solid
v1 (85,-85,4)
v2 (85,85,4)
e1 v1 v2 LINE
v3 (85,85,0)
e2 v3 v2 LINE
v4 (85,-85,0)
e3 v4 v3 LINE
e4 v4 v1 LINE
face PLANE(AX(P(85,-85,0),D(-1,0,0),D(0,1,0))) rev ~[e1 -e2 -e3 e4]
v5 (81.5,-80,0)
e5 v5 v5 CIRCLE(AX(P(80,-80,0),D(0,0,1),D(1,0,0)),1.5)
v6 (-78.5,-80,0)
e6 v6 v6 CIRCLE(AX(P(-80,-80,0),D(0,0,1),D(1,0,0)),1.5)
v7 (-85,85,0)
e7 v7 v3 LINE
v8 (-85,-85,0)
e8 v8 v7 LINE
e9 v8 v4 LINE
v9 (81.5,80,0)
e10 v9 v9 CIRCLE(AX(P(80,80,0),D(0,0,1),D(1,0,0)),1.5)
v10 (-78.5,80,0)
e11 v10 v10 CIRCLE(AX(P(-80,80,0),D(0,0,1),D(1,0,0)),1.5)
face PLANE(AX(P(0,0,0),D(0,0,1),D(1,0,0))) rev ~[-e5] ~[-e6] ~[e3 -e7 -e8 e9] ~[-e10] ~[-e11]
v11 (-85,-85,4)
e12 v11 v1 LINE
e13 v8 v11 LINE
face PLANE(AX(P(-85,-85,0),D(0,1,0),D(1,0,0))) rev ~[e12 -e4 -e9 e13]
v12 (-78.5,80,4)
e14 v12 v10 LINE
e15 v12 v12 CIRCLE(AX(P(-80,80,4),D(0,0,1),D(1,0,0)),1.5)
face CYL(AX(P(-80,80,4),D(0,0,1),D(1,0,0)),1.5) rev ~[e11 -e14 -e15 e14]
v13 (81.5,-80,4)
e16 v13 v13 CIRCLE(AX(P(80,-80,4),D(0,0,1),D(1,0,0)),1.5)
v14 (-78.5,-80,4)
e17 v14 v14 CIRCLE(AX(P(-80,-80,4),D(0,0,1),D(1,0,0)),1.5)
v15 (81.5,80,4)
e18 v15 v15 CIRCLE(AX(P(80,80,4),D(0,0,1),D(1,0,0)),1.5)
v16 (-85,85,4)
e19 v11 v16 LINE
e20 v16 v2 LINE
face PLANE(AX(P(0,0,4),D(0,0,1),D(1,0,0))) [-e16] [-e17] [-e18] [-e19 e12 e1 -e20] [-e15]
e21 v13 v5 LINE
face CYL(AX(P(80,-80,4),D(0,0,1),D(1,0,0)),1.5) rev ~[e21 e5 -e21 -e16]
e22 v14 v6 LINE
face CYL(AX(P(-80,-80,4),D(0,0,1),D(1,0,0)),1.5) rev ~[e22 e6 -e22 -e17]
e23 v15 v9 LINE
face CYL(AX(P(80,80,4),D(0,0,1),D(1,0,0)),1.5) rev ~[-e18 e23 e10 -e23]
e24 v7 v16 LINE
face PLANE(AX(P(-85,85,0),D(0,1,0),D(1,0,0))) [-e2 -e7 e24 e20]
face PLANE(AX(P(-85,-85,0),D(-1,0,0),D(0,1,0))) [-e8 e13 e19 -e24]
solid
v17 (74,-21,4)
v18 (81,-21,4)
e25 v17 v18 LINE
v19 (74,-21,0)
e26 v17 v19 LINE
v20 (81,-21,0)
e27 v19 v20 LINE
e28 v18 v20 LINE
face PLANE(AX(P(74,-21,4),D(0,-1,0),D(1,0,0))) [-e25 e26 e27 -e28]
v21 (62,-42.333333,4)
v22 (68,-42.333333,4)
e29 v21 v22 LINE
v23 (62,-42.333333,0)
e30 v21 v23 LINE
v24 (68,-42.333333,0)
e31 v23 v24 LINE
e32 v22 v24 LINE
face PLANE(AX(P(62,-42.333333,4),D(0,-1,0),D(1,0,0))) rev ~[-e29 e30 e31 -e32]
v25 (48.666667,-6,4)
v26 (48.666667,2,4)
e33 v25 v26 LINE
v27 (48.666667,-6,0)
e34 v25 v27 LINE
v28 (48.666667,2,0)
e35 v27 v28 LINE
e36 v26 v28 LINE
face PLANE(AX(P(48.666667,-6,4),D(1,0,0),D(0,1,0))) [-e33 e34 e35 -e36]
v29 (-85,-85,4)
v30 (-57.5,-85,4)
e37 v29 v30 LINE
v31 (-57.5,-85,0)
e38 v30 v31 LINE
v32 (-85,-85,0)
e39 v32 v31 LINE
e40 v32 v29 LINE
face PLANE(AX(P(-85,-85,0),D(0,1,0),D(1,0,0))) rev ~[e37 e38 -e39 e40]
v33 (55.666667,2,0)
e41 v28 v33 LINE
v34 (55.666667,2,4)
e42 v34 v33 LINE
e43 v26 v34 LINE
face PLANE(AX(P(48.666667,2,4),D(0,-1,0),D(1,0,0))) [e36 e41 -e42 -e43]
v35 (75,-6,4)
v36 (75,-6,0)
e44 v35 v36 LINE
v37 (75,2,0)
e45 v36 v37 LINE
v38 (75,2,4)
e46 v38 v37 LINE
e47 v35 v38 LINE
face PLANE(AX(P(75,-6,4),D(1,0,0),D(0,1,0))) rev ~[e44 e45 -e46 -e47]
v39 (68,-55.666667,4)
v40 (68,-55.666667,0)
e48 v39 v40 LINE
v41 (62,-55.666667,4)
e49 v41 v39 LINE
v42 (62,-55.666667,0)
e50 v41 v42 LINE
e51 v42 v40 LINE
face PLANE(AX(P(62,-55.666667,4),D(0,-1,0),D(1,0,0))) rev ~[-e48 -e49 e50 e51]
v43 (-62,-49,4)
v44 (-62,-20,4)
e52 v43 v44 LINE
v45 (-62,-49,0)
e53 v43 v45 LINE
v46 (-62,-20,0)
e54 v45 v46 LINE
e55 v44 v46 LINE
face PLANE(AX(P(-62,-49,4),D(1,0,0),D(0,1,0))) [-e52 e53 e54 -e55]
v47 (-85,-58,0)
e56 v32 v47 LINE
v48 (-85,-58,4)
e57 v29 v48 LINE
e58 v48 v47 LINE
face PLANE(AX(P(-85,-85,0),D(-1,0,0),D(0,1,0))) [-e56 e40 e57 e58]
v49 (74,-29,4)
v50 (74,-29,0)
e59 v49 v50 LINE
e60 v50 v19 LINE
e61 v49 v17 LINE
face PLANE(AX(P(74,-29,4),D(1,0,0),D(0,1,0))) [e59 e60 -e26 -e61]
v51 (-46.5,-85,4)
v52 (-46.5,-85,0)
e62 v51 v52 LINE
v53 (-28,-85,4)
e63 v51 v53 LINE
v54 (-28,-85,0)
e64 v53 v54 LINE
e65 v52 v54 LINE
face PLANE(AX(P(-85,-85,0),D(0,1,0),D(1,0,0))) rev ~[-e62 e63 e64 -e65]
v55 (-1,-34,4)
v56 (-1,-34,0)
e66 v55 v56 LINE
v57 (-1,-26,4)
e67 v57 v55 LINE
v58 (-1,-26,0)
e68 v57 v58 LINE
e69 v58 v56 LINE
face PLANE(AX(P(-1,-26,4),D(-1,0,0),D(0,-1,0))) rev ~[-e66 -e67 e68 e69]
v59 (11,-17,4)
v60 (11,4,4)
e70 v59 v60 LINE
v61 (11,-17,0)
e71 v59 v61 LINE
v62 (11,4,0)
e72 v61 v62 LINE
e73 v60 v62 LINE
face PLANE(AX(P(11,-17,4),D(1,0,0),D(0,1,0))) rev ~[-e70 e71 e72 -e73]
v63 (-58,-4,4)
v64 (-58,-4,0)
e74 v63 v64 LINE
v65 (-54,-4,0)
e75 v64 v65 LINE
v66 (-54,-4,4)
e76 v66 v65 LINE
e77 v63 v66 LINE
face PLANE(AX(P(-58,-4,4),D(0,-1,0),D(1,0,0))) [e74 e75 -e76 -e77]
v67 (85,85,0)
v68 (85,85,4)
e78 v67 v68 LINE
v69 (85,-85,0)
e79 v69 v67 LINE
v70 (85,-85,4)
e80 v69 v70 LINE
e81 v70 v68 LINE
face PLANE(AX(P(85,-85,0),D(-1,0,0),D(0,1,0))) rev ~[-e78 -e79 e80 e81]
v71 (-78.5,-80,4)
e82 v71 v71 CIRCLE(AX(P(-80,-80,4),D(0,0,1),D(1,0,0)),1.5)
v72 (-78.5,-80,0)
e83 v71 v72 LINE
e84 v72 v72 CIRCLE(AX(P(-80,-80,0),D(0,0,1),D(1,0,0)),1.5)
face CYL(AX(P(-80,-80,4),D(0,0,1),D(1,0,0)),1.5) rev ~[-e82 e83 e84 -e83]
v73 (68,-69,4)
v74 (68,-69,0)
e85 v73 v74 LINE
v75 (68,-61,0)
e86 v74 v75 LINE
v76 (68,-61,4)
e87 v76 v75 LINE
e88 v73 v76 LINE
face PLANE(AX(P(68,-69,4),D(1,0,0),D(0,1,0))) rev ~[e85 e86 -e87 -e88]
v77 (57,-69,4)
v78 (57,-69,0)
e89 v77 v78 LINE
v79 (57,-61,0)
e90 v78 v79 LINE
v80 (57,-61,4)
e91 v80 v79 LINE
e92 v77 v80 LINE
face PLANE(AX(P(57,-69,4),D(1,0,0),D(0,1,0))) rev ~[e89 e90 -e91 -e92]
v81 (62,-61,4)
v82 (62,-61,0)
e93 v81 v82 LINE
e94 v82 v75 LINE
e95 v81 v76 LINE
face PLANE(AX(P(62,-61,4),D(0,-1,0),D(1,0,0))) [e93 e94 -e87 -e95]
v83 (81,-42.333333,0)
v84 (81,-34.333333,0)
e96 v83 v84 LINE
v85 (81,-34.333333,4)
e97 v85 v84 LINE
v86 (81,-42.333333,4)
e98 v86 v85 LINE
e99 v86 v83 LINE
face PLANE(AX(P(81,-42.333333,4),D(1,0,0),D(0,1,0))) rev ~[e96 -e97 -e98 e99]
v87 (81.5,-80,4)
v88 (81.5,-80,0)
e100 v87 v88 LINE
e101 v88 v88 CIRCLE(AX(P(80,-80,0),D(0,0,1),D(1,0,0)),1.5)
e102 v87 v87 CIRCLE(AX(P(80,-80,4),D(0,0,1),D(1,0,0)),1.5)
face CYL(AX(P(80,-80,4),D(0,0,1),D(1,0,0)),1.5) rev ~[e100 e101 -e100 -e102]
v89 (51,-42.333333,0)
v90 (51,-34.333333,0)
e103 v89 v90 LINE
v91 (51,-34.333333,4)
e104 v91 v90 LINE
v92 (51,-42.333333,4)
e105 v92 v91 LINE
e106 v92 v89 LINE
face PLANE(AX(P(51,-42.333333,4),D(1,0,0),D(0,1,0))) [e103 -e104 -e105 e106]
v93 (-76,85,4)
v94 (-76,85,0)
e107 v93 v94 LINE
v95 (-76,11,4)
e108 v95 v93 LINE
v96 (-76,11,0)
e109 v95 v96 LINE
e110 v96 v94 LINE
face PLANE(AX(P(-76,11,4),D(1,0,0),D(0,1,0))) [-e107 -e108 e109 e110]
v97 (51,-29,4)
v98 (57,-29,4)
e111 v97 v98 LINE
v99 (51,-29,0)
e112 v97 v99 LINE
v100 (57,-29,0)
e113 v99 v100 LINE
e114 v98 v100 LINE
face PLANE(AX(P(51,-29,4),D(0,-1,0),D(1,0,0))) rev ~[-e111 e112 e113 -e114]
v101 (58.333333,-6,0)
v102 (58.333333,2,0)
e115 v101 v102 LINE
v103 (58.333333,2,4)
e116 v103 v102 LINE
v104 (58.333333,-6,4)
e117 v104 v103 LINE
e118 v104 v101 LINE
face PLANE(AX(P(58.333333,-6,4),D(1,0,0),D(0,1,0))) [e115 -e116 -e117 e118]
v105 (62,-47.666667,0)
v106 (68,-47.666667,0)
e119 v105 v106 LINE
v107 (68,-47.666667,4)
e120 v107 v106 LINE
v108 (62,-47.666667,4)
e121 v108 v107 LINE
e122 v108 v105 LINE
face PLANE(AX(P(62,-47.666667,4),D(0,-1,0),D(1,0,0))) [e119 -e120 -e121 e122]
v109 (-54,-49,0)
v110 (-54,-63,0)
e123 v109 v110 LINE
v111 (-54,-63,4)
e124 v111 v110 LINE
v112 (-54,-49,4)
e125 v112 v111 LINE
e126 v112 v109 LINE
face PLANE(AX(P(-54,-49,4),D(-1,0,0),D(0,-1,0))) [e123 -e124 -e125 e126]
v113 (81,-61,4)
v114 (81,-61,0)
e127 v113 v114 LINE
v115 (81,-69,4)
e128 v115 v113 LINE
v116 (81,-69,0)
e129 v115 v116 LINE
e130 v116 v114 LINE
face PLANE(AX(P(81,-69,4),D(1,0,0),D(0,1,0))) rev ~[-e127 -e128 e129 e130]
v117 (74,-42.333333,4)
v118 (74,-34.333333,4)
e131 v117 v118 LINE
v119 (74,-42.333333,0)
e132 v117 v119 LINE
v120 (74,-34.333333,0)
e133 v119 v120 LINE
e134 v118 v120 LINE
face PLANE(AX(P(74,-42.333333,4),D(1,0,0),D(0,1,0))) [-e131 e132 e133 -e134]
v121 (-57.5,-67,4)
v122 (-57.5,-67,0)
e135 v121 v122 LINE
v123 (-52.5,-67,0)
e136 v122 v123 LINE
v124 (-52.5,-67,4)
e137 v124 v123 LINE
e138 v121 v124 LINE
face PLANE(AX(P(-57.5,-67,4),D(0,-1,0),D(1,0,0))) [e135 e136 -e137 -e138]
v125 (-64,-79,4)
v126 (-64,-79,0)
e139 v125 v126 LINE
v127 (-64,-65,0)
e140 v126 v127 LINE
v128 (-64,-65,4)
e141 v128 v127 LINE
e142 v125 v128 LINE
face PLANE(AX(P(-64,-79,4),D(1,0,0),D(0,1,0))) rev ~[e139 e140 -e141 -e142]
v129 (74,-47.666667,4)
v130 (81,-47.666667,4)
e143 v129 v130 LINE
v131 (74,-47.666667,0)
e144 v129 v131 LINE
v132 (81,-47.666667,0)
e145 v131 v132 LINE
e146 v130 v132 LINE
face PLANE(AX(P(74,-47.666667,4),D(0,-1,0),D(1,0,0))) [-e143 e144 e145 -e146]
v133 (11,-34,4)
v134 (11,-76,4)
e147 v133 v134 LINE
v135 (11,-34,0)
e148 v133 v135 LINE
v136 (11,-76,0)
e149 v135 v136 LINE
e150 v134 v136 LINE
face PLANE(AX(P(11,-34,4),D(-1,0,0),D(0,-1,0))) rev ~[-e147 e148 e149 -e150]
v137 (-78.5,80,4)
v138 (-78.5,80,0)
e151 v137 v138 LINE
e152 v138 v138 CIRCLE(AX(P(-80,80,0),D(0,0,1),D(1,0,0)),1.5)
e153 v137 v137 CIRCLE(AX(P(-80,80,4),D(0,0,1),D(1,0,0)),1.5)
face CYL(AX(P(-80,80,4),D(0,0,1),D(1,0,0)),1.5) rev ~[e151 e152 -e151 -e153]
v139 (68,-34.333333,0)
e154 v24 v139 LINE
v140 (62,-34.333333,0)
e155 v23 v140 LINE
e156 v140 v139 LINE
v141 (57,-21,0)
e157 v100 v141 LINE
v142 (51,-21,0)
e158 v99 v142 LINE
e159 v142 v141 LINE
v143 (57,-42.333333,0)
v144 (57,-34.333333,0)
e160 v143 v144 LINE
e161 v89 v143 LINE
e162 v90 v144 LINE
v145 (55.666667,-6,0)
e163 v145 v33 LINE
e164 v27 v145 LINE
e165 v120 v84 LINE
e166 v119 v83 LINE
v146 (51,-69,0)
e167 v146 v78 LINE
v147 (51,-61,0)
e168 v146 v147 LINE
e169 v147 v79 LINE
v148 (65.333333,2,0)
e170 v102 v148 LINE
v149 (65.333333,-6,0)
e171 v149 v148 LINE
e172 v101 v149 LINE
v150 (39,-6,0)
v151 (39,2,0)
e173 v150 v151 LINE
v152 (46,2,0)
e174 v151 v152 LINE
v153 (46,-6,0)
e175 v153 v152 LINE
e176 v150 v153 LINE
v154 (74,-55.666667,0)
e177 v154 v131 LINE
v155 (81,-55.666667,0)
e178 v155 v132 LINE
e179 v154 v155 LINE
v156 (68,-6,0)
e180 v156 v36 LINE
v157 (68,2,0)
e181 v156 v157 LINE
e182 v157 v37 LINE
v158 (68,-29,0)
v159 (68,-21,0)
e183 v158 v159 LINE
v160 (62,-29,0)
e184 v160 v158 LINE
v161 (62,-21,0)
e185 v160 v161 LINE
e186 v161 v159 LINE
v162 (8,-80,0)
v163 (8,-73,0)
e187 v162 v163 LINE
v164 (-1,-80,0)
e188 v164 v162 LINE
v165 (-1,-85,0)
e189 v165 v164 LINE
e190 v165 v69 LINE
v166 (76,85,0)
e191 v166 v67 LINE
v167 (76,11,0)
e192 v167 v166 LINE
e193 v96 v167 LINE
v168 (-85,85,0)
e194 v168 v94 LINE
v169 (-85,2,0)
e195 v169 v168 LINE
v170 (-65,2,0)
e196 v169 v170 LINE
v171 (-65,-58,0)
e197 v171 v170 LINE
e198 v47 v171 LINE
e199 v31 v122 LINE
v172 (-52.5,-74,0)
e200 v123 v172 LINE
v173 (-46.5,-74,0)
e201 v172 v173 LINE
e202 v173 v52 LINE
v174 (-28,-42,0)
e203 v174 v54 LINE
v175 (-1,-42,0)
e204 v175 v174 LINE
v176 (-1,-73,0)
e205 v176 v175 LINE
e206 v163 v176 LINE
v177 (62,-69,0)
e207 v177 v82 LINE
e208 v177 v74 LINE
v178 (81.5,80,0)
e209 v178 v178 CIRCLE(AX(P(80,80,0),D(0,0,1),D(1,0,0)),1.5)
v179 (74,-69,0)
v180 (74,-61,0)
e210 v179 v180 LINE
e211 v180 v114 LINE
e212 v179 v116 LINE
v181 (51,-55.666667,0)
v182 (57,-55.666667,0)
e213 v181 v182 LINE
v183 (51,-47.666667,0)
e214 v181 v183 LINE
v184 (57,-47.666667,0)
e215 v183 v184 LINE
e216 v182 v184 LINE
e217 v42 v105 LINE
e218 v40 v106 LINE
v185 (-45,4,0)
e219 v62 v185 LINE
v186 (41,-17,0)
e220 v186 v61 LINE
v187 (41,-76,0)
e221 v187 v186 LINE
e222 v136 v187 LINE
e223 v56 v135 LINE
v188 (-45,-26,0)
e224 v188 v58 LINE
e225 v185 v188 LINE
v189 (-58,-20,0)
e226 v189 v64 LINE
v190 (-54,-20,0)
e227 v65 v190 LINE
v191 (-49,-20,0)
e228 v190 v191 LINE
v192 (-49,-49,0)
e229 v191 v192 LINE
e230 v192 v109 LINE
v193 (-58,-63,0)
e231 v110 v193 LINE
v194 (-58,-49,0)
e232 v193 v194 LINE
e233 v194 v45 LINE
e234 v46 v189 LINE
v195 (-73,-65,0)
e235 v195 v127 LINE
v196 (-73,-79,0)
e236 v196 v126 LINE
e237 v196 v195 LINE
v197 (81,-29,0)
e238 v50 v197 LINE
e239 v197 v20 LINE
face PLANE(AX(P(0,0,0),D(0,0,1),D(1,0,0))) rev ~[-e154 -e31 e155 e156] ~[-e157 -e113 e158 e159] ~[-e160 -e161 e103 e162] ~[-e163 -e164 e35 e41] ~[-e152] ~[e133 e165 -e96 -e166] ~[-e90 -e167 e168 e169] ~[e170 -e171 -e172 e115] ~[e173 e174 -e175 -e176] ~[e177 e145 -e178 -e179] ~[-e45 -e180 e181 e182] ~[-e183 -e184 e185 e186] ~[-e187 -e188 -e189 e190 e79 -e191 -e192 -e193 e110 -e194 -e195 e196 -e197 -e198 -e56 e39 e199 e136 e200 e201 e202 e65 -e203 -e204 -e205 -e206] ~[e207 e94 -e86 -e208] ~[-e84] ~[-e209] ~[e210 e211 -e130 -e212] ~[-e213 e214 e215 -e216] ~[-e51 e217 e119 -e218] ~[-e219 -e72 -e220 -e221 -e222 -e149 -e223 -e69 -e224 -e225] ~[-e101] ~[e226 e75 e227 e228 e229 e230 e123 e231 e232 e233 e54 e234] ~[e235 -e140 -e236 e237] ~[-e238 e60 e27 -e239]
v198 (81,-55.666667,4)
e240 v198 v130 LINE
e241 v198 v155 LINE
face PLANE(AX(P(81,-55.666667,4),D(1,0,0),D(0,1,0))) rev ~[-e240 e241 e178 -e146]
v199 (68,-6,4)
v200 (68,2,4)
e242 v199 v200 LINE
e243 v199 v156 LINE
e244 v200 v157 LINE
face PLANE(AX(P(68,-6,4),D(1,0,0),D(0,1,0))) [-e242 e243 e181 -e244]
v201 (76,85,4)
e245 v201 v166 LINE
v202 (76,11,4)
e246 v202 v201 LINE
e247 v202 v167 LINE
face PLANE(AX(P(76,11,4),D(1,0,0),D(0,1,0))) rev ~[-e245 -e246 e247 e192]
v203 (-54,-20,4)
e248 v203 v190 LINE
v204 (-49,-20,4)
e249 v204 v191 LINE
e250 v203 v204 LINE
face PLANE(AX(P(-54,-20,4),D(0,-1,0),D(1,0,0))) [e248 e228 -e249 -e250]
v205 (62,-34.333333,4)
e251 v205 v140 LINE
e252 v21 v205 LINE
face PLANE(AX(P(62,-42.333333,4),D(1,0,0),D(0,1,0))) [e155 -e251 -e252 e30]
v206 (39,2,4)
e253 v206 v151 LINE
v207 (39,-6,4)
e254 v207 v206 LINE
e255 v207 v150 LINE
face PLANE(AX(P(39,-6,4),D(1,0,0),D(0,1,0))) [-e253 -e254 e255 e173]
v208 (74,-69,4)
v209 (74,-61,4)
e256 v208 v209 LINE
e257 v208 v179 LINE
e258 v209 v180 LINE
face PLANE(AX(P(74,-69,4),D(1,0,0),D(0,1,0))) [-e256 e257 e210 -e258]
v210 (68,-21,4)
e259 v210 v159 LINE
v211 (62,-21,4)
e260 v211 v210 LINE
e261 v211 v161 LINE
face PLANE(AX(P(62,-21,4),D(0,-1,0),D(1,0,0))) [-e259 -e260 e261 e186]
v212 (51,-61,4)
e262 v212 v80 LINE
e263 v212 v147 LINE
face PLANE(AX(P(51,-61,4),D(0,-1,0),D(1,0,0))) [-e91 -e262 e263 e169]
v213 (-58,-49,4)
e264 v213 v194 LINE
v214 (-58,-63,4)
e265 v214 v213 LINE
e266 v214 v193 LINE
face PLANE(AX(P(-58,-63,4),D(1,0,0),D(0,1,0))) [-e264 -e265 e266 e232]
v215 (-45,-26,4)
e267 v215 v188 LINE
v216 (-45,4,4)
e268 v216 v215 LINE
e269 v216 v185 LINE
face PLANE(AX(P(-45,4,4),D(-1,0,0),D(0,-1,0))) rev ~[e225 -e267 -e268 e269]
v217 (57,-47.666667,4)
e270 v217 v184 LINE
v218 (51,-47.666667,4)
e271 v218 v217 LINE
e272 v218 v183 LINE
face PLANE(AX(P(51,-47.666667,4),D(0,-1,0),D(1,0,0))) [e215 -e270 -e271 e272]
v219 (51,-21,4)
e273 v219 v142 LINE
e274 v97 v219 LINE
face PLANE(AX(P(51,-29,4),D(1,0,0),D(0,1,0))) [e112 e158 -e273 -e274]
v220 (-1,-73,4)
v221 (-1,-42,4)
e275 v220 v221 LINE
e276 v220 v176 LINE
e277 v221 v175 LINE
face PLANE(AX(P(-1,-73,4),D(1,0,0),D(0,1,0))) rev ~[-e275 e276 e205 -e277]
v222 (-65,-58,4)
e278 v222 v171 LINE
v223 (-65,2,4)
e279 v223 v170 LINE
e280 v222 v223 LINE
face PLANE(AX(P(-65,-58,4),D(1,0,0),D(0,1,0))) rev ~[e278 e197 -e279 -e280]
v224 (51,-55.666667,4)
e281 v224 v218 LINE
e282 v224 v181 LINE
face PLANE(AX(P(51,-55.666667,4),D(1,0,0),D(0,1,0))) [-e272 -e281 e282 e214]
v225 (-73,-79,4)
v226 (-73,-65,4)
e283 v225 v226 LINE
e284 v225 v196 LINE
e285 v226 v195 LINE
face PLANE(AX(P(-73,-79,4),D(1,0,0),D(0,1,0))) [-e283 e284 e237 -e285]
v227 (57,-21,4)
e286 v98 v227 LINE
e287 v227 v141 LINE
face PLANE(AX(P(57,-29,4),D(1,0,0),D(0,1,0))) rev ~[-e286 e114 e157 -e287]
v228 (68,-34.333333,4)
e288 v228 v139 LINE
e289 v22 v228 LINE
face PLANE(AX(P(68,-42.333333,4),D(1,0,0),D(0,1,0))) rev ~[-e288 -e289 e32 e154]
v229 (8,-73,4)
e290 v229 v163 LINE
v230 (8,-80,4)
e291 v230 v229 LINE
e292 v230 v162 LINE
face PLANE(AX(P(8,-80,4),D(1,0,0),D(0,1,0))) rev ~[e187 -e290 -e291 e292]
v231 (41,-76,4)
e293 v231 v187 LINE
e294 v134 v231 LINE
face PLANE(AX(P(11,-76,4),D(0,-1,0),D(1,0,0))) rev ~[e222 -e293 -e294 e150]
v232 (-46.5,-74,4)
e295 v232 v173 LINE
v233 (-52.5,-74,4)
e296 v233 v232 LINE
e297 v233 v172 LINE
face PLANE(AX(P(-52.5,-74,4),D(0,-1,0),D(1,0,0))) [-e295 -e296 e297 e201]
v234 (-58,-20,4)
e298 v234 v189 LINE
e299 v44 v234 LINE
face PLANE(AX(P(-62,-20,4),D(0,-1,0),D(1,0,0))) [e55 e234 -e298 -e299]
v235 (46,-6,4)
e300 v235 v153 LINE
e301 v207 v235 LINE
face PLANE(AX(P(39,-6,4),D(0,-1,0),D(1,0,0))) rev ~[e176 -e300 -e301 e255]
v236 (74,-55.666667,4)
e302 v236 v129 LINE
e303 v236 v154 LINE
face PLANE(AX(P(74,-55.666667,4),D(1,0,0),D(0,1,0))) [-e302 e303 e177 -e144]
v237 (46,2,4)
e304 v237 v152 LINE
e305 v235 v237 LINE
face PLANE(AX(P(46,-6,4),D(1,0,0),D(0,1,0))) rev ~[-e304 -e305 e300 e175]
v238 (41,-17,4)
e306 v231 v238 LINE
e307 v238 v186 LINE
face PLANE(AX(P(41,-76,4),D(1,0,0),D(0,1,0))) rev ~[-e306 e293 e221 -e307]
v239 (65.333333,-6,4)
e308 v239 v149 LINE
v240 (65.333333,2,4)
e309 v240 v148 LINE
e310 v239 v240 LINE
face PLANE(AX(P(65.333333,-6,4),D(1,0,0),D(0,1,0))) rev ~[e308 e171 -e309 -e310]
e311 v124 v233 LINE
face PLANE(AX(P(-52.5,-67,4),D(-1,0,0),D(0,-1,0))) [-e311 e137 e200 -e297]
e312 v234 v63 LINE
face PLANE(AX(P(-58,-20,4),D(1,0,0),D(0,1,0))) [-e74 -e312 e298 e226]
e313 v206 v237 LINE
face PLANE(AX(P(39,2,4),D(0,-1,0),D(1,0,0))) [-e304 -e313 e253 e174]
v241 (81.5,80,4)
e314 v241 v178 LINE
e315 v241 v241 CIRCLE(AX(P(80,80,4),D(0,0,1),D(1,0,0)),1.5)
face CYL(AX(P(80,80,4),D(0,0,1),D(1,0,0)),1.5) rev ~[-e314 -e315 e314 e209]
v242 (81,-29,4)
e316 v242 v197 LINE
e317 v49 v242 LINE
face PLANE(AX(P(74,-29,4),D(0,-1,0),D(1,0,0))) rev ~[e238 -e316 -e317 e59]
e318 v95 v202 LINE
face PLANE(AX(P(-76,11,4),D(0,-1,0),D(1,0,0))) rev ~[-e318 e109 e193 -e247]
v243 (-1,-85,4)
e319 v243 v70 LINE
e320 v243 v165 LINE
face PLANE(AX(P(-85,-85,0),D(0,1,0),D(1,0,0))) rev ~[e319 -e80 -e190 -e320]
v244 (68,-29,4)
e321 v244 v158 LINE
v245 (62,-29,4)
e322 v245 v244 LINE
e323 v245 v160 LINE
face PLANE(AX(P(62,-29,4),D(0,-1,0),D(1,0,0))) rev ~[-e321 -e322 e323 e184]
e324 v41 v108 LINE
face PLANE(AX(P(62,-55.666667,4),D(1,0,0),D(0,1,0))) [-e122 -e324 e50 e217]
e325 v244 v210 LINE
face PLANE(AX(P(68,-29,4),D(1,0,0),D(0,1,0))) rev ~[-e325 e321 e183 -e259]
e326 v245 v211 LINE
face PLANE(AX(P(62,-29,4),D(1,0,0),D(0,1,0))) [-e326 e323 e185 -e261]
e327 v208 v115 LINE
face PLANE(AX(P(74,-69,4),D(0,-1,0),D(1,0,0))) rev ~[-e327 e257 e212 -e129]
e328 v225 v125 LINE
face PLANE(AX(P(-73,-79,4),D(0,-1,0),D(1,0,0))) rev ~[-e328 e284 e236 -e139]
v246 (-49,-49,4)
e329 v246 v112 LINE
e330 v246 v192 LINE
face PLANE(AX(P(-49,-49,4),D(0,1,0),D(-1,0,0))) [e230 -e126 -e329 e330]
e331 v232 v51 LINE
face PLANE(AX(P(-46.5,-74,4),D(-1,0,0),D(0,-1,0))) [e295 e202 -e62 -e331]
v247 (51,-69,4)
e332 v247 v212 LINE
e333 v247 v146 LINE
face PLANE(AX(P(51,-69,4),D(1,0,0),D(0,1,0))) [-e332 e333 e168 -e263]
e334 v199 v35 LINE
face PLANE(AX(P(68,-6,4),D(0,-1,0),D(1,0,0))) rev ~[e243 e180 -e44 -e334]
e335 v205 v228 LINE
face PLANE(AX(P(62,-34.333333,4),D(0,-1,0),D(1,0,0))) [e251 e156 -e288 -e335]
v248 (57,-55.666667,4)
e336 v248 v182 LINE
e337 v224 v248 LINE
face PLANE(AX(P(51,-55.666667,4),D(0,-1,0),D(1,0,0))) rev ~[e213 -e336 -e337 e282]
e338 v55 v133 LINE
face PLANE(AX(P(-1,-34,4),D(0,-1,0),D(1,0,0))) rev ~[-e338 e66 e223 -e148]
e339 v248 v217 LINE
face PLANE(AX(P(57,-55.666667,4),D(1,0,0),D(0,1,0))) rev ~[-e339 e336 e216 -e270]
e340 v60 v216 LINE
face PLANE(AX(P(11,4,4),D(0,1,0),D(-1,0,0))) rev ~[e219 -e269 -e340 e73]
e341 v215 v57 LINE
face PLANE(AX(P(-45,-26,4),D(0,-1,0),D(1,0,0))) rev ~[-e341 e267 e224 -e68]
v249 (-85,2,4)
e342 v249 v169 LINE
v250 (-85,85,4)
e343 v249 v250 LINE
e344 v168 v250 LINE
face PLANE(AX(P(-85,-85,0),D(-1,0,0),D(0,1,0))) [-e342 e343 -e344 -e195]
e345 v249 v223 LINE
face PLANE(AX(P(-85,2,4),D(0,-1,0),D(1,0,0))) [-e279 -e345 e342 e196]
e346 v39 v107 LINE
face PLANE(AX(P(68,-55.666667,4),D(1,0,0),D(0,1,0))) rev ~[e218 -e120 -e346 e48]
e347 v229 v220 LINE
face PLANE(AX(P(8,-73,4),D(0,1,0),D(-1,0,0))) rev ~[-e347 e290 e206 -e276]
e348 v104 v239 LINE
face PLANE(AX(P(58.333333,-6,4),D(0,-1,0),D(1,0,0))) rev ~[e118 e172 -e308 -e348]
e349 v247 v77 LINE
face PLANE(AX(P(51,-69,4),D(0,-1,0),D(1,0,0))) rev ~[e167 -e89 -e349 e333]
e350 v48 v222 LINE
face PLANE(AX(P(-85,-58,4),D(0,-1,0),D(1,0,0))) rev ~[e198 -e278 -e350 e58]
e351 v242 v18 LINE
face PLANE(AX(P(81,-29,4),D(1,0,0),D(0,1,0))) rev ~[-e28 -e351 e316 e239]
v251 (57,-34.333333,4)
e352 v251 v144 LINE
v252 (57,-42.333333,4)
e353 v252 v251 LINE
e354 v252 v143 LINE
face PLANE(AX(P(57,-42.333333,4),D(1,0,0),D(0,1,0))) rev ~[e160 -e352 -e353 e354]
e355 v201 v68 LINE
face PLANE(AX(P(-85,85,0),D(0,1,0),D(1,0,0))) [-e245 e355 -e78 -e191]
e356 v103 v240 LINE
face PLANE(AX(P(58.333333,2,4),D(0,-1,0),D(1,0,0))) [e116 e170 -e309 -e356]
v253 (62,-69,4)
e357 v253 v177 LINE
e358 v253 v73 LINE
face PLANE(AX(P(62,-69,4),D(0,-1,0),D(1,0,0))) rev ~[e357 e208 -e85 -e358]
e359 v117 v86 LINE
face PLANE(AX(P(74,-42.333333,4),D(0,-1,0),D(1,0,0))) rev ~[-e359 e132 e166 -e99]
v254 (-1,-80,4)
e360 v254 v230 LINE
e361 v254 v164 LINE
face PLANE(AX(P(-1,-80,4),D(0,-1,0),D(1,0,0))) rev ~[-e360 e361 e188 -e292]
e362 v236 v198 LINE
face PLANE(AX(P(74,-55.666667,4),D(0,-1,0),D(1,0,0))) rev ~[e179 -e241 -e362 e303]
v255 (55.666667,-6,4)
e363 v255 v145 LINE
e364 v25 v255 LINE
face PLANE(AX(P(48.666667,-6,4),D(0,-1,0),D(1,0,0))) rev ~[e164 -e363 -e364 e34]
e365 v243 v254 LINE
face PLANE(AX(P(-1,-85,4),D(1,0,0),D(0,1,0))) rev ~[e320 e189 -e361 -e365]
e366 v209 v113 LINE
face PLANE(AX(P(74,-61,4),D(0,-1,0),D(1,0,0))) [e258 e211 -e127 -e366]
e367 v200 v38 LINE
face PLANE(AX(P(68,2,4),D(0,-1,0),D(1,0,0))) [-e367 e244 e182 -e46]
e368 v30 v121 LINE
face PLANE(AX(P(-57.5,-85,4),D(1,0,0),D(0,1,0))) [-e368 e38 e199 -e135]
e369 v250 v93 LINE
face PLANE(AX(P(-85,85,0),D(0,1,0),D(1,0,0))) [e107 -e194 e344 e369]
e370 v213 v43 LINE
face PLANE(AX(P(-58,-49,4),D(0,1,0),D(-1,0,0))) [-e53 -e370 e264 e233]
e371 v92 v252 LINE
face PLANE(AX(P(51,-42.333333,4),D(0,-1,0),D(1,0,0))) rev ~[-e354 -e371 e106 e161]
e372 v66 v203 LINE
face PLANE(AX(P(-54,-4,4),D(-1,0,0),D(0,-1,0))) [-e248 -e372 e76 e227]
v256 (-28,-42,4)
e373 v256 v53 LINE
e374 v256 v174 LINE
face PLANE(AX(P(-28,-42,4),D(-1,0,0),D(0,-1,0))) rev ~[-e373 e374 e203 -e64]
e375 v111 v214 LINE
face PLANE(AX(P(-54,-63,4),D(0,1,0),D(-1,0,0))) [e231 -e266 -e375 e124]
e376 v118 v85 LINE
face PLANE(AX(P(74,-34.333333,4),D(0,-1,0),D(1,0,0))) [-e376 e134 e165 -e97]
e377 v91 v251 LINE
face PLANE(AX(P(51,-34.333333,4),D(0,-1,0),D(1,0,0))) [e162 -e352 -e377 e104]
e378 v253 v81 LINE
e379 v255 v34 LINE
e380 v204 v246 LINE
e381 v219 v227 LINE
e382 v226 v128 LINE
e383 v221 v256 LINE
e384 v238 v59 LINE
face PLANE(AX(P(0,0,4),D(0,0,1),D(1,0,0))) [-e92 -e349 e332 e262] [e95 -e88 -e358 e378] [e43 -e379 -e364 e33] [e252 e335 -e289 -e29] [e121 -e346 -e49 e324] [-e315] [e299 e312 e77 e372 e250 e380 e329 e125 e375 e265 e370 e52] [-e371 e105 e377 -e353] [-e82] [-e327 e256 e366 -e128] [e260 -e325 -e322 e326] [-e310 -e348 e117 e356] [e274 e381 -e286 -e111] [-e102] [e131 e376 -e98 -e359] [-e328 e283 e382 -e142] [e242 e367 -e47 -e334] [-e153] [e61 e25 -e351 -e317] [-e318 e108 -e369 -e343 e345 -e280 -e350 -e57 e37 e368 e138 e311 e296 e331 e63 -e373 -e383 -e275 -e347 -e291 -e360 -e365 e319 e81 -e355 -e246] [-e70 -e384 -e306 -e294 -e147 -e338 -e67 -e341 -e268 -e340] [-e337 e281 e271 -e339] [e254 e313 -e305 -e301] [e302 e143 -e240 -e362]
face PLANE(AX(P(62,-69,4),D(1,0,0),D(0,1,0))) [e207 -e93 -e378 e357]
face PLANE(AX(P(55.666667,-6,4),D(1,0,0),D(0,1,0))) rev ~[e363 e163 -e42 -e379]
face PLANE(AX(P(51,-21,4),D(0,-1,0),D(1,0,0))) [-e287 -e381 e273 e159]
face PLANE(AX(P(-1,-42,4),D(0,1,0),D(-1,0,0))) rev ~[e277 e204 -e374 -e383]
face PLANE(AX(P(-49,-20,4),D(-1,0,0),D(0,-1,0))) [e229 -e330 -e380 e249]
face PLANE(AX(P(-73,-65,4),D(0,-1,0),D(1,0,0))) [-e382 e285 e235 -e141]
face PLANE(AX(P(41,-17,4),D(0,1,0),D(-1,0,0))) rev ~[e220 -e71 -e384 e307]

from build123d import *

# Parameters (mm, degrees)
SKETCH_W        = 170
SKETCH_H        = 170
PAD_DEPTH       = 4
SKETCH001_R     = 1.5
POCKET_DEPTH    = 4
SKETCH002_W     = 170
SKETCH002_H     = 170
PAD001_DEPTH    = 4
SKETCH003_R     = 1.5
POCKET001_DEPTH = 4
SKETCH004_W     = 152
SKETCH004_H     = 74
POCKET002_DEPTH = 4
SKETCH005_W     = 20
SKETCH005_H     = 60
POCKET003_DEPTH = 4
SKETCH006_W     = 9
SKETCH006_H     = 14
POCKET004_DEPTH = 4
POCKET005_DEPTH = 4
POCKET006_DEPTH = 4
POCKET007_DEPTH = 4
POCKET008_DEPTH = 4
SKETCH011_W     = 7
SKETCH011_H     = 8
POCKET009_DEPTH = 4
SKETCH012_W     = 6
SKETCH012_H     = 8
POCKET010_DEPTH = 4
SKETCH013_W     = 7
SKETCH013_H     = 8
POCKET011_DEPTH = 4


with BuildPart() as bottom:
    # Sketch → Pad (new body)
    with BuildSketch(Plane.XY):
        Rectangle(SKETCH_W, SKETCH_H)
    extrude(amount=PAD_DEPTH)

    # Sketch001 (on Face6 of Pad) → Pocket (cut)
    with BuildSketch(Plane.XY.offset(4)):
        with Locations((-80, 80)):
            Circle(SKETCH001_R)
        with Locations((80, 80)):
            Circle(SKETCH001_R)
        with Locations((80, -80)):
            Circle(SKETCH001_R)
        with Locations((-80, -80)):
            Circle(SKETCH001_R)
    extrude(amount=-POCKET_DEPTH, mode=Mode.SUBTRACT)


with BuildPart() as top:
    # Sketch002 → Pad001 (new body)
    with BuildSketch(Plane.XY):
        Rectangle(SKETCH002_W, SKETCH002_H)
    extrude(amount=PAD001_DEPTH)

    # Sketch003 (on Face6 of Pad001) → Pocket001 (cut)
    with BuildSketch(Plane.XY.offset(4)):
        with Locations((-80, 80)):
            Circle(SKETCH003_R)
        with Locations((80, 80)):
            Circle(SKETCH003_R)
        with Locations((80, -80)):
            Circle(SKETCH003_R)
        with Locations((-80, -80)):
            Circle(SKETCH003_R)
    extrude(amount=-POCKET001_DEPTH, mode=Mode.SUBTRACT)

    # Sketch004 (on Face5 of Pocket001) → Pocket002 (cut)
    with BuildSketch(Plane.XY.offset(4)):
        with Locations((0, 48)):
            Rectangle(SKETCH004_W, SKETCH004_H)
    extrude(amount=-POCKET002_DEPTH, mode=Mode.SUBTRACT)

    # Sketch005 (on Face4 of Pocket002) → Pocket003 (cut)
    with BuildSketch(Plane.XY.offset(4)):
        with Locations((-75, -28)):
            Rectangle(SKETCH005_W, SKETCH005_H)
    extrude(amount=-POCKET003_DEPTH, mode=Mode.SUBTRACT)

    # Sketch006 (on Face4 of Pocket003) → Pocket004 (cut)
    with BuildSketch(Plane.XY.offset(4)):
        with Locations((-68.5, -72)):
            Rectangle(SKETCH006_W, SKETCH006_H)
    extrude(amount=-POCKET004_DEPTH, mode=Mode.SUBTRACT)

    # Sketch007 (on Face4 of Pocket004) → Pocket005 (cut)
    with BuildSketch(Plane.XY.offset(4)):
        Polygon((11, -76), (41, -76), (41, -17), (11, -17), (11, 4), (-45, 4), (-45, -26), (-1, -26), (-1, -34), (11, -34), align=None)
    extrude(amount=-POCKET005_DEPTH, mode=Mode.SUBTRACT)

    # Sketch008 (on Face4 of Pocket005) → Pocket006 (cut)
    with BuildSketch(Plane.XY.offset(4)):
        Polygon((-28, -85), (-1, -85), (-1, -80), (8, -80), (8, -73), (-1, -73), (-1, -42), (-28, -42), align=None)
    extrude(amount=-POCKET006_DEPTH, mode=Mode.SUBTRACT)

    # Sketch009 (on Face4 of Pocket006) → Pocket007 (cut)
    with BuildSketch(Plane.XY.offset(4)):
        Polygon((-46.5, -85), (-57.5, -85), (-57.5, -67), (-52.5, -67), (-52.5, -74), (-46.5, -74), align=None)
    extrude(amount=-POCKET007_DEPTH, mode=Mode.SUBTRACT)

    # Sketch010 (on Face4 of Pocket007) → Pocket008 (cut)
    with BuildSketch(Plane.XY.offset(4)):
        Polygon((-58, -4), (-54, -4), (-54, -20), (-49, -20), (-49, -49), (-54, -49), (-54, -63), (-58, -63), (-58, -49), (-62, -49), (-62, -20), (-58, -20), align=None)
    extrude(amount=-POCKET008_DEPTH, mode=Mode.SUBTRACT)

    # Sketch011 (on Face4 of Pocket008) → Pocket009 (cut)
    with BuildSketch(Plane.XY.offset(4)):
        with Locations((71.5, -2)):
            Rectangle(SKETCH011_W, SKETCH011_H)
        with Locations((61.833333, -2)):
            Rectangle(SKETCH011_W, SKETCH011_H)
        with Locations((52.166667, -2)):
            Rectangle(SKETCH011_W, SKETCH011_H)
        with Locations((42.5, -2)):
            Rectangle(SKETCH011_W, SKETCH011_H)
    extrude(amount=-POCKET009_DEPTH, mode=Mode.SUBTRACT)

    # Sketch012 (on Face4 of Pocket009) → Pocket010 (cut)
    with BuildSketch(Plane.XY.offset(4)):
        with Locations((54, -25)):
            Rectangle(SKETCH012_W, SKETCH012_H)
        with Locations((54, -38.333333)):
            Rectangle(SKETCH012_W, SKETCH012_H)
        with Locations((54, -51.666667)):
            Rectangle(SKETCH012_W, SKETCH012_H)
        with Locations((54, -65)):
            Rectangle(SKETCH012_W, SKETCH012_H)
        with Locations((65, -25)):
            Rectangle(SKETCH012_W, SKETCH012_H)
        with Locations((65, -38.333333)):
            Rectangle(SKETCH012_W, SKETCH012_H)
        with Locations((65, -51.666667)):
            Rectangle(SKETCH012_W, SKETCH012_H)
        with Locations((65, -65)):
            Rectangle(SKETCH012_W, SKETCH012_H)
    extrude(amount=-POCKET010_DEPTH, mode=Mode.SUBTRACT)

    # Sketch013 (on Face4 of Pocket010) → Pocket011 (cut)
    with BuildSketch(Plane.XY.offset(4)):
        with Locations((77.5, -25)):
            Rectangle(SKETCH013_W, SKETCH013_H)
        with Locations((77.5, -38.333333)):
            Rectangle(SKETCH013_W, SKETCH013_H)
        with Locations((77.5, -51.666667)):
            Rectangle(SKETCH013_W, SKETCH013_H)
        with Locations((77.5, -65)):
            Rectangle(SKETCH013_W, SKETCH013_H)
    extrude(amount=-POCKET011_DEPTH, mode=Mode.SUBTRACT)


solid = Compound([bottom.part, top.part])
